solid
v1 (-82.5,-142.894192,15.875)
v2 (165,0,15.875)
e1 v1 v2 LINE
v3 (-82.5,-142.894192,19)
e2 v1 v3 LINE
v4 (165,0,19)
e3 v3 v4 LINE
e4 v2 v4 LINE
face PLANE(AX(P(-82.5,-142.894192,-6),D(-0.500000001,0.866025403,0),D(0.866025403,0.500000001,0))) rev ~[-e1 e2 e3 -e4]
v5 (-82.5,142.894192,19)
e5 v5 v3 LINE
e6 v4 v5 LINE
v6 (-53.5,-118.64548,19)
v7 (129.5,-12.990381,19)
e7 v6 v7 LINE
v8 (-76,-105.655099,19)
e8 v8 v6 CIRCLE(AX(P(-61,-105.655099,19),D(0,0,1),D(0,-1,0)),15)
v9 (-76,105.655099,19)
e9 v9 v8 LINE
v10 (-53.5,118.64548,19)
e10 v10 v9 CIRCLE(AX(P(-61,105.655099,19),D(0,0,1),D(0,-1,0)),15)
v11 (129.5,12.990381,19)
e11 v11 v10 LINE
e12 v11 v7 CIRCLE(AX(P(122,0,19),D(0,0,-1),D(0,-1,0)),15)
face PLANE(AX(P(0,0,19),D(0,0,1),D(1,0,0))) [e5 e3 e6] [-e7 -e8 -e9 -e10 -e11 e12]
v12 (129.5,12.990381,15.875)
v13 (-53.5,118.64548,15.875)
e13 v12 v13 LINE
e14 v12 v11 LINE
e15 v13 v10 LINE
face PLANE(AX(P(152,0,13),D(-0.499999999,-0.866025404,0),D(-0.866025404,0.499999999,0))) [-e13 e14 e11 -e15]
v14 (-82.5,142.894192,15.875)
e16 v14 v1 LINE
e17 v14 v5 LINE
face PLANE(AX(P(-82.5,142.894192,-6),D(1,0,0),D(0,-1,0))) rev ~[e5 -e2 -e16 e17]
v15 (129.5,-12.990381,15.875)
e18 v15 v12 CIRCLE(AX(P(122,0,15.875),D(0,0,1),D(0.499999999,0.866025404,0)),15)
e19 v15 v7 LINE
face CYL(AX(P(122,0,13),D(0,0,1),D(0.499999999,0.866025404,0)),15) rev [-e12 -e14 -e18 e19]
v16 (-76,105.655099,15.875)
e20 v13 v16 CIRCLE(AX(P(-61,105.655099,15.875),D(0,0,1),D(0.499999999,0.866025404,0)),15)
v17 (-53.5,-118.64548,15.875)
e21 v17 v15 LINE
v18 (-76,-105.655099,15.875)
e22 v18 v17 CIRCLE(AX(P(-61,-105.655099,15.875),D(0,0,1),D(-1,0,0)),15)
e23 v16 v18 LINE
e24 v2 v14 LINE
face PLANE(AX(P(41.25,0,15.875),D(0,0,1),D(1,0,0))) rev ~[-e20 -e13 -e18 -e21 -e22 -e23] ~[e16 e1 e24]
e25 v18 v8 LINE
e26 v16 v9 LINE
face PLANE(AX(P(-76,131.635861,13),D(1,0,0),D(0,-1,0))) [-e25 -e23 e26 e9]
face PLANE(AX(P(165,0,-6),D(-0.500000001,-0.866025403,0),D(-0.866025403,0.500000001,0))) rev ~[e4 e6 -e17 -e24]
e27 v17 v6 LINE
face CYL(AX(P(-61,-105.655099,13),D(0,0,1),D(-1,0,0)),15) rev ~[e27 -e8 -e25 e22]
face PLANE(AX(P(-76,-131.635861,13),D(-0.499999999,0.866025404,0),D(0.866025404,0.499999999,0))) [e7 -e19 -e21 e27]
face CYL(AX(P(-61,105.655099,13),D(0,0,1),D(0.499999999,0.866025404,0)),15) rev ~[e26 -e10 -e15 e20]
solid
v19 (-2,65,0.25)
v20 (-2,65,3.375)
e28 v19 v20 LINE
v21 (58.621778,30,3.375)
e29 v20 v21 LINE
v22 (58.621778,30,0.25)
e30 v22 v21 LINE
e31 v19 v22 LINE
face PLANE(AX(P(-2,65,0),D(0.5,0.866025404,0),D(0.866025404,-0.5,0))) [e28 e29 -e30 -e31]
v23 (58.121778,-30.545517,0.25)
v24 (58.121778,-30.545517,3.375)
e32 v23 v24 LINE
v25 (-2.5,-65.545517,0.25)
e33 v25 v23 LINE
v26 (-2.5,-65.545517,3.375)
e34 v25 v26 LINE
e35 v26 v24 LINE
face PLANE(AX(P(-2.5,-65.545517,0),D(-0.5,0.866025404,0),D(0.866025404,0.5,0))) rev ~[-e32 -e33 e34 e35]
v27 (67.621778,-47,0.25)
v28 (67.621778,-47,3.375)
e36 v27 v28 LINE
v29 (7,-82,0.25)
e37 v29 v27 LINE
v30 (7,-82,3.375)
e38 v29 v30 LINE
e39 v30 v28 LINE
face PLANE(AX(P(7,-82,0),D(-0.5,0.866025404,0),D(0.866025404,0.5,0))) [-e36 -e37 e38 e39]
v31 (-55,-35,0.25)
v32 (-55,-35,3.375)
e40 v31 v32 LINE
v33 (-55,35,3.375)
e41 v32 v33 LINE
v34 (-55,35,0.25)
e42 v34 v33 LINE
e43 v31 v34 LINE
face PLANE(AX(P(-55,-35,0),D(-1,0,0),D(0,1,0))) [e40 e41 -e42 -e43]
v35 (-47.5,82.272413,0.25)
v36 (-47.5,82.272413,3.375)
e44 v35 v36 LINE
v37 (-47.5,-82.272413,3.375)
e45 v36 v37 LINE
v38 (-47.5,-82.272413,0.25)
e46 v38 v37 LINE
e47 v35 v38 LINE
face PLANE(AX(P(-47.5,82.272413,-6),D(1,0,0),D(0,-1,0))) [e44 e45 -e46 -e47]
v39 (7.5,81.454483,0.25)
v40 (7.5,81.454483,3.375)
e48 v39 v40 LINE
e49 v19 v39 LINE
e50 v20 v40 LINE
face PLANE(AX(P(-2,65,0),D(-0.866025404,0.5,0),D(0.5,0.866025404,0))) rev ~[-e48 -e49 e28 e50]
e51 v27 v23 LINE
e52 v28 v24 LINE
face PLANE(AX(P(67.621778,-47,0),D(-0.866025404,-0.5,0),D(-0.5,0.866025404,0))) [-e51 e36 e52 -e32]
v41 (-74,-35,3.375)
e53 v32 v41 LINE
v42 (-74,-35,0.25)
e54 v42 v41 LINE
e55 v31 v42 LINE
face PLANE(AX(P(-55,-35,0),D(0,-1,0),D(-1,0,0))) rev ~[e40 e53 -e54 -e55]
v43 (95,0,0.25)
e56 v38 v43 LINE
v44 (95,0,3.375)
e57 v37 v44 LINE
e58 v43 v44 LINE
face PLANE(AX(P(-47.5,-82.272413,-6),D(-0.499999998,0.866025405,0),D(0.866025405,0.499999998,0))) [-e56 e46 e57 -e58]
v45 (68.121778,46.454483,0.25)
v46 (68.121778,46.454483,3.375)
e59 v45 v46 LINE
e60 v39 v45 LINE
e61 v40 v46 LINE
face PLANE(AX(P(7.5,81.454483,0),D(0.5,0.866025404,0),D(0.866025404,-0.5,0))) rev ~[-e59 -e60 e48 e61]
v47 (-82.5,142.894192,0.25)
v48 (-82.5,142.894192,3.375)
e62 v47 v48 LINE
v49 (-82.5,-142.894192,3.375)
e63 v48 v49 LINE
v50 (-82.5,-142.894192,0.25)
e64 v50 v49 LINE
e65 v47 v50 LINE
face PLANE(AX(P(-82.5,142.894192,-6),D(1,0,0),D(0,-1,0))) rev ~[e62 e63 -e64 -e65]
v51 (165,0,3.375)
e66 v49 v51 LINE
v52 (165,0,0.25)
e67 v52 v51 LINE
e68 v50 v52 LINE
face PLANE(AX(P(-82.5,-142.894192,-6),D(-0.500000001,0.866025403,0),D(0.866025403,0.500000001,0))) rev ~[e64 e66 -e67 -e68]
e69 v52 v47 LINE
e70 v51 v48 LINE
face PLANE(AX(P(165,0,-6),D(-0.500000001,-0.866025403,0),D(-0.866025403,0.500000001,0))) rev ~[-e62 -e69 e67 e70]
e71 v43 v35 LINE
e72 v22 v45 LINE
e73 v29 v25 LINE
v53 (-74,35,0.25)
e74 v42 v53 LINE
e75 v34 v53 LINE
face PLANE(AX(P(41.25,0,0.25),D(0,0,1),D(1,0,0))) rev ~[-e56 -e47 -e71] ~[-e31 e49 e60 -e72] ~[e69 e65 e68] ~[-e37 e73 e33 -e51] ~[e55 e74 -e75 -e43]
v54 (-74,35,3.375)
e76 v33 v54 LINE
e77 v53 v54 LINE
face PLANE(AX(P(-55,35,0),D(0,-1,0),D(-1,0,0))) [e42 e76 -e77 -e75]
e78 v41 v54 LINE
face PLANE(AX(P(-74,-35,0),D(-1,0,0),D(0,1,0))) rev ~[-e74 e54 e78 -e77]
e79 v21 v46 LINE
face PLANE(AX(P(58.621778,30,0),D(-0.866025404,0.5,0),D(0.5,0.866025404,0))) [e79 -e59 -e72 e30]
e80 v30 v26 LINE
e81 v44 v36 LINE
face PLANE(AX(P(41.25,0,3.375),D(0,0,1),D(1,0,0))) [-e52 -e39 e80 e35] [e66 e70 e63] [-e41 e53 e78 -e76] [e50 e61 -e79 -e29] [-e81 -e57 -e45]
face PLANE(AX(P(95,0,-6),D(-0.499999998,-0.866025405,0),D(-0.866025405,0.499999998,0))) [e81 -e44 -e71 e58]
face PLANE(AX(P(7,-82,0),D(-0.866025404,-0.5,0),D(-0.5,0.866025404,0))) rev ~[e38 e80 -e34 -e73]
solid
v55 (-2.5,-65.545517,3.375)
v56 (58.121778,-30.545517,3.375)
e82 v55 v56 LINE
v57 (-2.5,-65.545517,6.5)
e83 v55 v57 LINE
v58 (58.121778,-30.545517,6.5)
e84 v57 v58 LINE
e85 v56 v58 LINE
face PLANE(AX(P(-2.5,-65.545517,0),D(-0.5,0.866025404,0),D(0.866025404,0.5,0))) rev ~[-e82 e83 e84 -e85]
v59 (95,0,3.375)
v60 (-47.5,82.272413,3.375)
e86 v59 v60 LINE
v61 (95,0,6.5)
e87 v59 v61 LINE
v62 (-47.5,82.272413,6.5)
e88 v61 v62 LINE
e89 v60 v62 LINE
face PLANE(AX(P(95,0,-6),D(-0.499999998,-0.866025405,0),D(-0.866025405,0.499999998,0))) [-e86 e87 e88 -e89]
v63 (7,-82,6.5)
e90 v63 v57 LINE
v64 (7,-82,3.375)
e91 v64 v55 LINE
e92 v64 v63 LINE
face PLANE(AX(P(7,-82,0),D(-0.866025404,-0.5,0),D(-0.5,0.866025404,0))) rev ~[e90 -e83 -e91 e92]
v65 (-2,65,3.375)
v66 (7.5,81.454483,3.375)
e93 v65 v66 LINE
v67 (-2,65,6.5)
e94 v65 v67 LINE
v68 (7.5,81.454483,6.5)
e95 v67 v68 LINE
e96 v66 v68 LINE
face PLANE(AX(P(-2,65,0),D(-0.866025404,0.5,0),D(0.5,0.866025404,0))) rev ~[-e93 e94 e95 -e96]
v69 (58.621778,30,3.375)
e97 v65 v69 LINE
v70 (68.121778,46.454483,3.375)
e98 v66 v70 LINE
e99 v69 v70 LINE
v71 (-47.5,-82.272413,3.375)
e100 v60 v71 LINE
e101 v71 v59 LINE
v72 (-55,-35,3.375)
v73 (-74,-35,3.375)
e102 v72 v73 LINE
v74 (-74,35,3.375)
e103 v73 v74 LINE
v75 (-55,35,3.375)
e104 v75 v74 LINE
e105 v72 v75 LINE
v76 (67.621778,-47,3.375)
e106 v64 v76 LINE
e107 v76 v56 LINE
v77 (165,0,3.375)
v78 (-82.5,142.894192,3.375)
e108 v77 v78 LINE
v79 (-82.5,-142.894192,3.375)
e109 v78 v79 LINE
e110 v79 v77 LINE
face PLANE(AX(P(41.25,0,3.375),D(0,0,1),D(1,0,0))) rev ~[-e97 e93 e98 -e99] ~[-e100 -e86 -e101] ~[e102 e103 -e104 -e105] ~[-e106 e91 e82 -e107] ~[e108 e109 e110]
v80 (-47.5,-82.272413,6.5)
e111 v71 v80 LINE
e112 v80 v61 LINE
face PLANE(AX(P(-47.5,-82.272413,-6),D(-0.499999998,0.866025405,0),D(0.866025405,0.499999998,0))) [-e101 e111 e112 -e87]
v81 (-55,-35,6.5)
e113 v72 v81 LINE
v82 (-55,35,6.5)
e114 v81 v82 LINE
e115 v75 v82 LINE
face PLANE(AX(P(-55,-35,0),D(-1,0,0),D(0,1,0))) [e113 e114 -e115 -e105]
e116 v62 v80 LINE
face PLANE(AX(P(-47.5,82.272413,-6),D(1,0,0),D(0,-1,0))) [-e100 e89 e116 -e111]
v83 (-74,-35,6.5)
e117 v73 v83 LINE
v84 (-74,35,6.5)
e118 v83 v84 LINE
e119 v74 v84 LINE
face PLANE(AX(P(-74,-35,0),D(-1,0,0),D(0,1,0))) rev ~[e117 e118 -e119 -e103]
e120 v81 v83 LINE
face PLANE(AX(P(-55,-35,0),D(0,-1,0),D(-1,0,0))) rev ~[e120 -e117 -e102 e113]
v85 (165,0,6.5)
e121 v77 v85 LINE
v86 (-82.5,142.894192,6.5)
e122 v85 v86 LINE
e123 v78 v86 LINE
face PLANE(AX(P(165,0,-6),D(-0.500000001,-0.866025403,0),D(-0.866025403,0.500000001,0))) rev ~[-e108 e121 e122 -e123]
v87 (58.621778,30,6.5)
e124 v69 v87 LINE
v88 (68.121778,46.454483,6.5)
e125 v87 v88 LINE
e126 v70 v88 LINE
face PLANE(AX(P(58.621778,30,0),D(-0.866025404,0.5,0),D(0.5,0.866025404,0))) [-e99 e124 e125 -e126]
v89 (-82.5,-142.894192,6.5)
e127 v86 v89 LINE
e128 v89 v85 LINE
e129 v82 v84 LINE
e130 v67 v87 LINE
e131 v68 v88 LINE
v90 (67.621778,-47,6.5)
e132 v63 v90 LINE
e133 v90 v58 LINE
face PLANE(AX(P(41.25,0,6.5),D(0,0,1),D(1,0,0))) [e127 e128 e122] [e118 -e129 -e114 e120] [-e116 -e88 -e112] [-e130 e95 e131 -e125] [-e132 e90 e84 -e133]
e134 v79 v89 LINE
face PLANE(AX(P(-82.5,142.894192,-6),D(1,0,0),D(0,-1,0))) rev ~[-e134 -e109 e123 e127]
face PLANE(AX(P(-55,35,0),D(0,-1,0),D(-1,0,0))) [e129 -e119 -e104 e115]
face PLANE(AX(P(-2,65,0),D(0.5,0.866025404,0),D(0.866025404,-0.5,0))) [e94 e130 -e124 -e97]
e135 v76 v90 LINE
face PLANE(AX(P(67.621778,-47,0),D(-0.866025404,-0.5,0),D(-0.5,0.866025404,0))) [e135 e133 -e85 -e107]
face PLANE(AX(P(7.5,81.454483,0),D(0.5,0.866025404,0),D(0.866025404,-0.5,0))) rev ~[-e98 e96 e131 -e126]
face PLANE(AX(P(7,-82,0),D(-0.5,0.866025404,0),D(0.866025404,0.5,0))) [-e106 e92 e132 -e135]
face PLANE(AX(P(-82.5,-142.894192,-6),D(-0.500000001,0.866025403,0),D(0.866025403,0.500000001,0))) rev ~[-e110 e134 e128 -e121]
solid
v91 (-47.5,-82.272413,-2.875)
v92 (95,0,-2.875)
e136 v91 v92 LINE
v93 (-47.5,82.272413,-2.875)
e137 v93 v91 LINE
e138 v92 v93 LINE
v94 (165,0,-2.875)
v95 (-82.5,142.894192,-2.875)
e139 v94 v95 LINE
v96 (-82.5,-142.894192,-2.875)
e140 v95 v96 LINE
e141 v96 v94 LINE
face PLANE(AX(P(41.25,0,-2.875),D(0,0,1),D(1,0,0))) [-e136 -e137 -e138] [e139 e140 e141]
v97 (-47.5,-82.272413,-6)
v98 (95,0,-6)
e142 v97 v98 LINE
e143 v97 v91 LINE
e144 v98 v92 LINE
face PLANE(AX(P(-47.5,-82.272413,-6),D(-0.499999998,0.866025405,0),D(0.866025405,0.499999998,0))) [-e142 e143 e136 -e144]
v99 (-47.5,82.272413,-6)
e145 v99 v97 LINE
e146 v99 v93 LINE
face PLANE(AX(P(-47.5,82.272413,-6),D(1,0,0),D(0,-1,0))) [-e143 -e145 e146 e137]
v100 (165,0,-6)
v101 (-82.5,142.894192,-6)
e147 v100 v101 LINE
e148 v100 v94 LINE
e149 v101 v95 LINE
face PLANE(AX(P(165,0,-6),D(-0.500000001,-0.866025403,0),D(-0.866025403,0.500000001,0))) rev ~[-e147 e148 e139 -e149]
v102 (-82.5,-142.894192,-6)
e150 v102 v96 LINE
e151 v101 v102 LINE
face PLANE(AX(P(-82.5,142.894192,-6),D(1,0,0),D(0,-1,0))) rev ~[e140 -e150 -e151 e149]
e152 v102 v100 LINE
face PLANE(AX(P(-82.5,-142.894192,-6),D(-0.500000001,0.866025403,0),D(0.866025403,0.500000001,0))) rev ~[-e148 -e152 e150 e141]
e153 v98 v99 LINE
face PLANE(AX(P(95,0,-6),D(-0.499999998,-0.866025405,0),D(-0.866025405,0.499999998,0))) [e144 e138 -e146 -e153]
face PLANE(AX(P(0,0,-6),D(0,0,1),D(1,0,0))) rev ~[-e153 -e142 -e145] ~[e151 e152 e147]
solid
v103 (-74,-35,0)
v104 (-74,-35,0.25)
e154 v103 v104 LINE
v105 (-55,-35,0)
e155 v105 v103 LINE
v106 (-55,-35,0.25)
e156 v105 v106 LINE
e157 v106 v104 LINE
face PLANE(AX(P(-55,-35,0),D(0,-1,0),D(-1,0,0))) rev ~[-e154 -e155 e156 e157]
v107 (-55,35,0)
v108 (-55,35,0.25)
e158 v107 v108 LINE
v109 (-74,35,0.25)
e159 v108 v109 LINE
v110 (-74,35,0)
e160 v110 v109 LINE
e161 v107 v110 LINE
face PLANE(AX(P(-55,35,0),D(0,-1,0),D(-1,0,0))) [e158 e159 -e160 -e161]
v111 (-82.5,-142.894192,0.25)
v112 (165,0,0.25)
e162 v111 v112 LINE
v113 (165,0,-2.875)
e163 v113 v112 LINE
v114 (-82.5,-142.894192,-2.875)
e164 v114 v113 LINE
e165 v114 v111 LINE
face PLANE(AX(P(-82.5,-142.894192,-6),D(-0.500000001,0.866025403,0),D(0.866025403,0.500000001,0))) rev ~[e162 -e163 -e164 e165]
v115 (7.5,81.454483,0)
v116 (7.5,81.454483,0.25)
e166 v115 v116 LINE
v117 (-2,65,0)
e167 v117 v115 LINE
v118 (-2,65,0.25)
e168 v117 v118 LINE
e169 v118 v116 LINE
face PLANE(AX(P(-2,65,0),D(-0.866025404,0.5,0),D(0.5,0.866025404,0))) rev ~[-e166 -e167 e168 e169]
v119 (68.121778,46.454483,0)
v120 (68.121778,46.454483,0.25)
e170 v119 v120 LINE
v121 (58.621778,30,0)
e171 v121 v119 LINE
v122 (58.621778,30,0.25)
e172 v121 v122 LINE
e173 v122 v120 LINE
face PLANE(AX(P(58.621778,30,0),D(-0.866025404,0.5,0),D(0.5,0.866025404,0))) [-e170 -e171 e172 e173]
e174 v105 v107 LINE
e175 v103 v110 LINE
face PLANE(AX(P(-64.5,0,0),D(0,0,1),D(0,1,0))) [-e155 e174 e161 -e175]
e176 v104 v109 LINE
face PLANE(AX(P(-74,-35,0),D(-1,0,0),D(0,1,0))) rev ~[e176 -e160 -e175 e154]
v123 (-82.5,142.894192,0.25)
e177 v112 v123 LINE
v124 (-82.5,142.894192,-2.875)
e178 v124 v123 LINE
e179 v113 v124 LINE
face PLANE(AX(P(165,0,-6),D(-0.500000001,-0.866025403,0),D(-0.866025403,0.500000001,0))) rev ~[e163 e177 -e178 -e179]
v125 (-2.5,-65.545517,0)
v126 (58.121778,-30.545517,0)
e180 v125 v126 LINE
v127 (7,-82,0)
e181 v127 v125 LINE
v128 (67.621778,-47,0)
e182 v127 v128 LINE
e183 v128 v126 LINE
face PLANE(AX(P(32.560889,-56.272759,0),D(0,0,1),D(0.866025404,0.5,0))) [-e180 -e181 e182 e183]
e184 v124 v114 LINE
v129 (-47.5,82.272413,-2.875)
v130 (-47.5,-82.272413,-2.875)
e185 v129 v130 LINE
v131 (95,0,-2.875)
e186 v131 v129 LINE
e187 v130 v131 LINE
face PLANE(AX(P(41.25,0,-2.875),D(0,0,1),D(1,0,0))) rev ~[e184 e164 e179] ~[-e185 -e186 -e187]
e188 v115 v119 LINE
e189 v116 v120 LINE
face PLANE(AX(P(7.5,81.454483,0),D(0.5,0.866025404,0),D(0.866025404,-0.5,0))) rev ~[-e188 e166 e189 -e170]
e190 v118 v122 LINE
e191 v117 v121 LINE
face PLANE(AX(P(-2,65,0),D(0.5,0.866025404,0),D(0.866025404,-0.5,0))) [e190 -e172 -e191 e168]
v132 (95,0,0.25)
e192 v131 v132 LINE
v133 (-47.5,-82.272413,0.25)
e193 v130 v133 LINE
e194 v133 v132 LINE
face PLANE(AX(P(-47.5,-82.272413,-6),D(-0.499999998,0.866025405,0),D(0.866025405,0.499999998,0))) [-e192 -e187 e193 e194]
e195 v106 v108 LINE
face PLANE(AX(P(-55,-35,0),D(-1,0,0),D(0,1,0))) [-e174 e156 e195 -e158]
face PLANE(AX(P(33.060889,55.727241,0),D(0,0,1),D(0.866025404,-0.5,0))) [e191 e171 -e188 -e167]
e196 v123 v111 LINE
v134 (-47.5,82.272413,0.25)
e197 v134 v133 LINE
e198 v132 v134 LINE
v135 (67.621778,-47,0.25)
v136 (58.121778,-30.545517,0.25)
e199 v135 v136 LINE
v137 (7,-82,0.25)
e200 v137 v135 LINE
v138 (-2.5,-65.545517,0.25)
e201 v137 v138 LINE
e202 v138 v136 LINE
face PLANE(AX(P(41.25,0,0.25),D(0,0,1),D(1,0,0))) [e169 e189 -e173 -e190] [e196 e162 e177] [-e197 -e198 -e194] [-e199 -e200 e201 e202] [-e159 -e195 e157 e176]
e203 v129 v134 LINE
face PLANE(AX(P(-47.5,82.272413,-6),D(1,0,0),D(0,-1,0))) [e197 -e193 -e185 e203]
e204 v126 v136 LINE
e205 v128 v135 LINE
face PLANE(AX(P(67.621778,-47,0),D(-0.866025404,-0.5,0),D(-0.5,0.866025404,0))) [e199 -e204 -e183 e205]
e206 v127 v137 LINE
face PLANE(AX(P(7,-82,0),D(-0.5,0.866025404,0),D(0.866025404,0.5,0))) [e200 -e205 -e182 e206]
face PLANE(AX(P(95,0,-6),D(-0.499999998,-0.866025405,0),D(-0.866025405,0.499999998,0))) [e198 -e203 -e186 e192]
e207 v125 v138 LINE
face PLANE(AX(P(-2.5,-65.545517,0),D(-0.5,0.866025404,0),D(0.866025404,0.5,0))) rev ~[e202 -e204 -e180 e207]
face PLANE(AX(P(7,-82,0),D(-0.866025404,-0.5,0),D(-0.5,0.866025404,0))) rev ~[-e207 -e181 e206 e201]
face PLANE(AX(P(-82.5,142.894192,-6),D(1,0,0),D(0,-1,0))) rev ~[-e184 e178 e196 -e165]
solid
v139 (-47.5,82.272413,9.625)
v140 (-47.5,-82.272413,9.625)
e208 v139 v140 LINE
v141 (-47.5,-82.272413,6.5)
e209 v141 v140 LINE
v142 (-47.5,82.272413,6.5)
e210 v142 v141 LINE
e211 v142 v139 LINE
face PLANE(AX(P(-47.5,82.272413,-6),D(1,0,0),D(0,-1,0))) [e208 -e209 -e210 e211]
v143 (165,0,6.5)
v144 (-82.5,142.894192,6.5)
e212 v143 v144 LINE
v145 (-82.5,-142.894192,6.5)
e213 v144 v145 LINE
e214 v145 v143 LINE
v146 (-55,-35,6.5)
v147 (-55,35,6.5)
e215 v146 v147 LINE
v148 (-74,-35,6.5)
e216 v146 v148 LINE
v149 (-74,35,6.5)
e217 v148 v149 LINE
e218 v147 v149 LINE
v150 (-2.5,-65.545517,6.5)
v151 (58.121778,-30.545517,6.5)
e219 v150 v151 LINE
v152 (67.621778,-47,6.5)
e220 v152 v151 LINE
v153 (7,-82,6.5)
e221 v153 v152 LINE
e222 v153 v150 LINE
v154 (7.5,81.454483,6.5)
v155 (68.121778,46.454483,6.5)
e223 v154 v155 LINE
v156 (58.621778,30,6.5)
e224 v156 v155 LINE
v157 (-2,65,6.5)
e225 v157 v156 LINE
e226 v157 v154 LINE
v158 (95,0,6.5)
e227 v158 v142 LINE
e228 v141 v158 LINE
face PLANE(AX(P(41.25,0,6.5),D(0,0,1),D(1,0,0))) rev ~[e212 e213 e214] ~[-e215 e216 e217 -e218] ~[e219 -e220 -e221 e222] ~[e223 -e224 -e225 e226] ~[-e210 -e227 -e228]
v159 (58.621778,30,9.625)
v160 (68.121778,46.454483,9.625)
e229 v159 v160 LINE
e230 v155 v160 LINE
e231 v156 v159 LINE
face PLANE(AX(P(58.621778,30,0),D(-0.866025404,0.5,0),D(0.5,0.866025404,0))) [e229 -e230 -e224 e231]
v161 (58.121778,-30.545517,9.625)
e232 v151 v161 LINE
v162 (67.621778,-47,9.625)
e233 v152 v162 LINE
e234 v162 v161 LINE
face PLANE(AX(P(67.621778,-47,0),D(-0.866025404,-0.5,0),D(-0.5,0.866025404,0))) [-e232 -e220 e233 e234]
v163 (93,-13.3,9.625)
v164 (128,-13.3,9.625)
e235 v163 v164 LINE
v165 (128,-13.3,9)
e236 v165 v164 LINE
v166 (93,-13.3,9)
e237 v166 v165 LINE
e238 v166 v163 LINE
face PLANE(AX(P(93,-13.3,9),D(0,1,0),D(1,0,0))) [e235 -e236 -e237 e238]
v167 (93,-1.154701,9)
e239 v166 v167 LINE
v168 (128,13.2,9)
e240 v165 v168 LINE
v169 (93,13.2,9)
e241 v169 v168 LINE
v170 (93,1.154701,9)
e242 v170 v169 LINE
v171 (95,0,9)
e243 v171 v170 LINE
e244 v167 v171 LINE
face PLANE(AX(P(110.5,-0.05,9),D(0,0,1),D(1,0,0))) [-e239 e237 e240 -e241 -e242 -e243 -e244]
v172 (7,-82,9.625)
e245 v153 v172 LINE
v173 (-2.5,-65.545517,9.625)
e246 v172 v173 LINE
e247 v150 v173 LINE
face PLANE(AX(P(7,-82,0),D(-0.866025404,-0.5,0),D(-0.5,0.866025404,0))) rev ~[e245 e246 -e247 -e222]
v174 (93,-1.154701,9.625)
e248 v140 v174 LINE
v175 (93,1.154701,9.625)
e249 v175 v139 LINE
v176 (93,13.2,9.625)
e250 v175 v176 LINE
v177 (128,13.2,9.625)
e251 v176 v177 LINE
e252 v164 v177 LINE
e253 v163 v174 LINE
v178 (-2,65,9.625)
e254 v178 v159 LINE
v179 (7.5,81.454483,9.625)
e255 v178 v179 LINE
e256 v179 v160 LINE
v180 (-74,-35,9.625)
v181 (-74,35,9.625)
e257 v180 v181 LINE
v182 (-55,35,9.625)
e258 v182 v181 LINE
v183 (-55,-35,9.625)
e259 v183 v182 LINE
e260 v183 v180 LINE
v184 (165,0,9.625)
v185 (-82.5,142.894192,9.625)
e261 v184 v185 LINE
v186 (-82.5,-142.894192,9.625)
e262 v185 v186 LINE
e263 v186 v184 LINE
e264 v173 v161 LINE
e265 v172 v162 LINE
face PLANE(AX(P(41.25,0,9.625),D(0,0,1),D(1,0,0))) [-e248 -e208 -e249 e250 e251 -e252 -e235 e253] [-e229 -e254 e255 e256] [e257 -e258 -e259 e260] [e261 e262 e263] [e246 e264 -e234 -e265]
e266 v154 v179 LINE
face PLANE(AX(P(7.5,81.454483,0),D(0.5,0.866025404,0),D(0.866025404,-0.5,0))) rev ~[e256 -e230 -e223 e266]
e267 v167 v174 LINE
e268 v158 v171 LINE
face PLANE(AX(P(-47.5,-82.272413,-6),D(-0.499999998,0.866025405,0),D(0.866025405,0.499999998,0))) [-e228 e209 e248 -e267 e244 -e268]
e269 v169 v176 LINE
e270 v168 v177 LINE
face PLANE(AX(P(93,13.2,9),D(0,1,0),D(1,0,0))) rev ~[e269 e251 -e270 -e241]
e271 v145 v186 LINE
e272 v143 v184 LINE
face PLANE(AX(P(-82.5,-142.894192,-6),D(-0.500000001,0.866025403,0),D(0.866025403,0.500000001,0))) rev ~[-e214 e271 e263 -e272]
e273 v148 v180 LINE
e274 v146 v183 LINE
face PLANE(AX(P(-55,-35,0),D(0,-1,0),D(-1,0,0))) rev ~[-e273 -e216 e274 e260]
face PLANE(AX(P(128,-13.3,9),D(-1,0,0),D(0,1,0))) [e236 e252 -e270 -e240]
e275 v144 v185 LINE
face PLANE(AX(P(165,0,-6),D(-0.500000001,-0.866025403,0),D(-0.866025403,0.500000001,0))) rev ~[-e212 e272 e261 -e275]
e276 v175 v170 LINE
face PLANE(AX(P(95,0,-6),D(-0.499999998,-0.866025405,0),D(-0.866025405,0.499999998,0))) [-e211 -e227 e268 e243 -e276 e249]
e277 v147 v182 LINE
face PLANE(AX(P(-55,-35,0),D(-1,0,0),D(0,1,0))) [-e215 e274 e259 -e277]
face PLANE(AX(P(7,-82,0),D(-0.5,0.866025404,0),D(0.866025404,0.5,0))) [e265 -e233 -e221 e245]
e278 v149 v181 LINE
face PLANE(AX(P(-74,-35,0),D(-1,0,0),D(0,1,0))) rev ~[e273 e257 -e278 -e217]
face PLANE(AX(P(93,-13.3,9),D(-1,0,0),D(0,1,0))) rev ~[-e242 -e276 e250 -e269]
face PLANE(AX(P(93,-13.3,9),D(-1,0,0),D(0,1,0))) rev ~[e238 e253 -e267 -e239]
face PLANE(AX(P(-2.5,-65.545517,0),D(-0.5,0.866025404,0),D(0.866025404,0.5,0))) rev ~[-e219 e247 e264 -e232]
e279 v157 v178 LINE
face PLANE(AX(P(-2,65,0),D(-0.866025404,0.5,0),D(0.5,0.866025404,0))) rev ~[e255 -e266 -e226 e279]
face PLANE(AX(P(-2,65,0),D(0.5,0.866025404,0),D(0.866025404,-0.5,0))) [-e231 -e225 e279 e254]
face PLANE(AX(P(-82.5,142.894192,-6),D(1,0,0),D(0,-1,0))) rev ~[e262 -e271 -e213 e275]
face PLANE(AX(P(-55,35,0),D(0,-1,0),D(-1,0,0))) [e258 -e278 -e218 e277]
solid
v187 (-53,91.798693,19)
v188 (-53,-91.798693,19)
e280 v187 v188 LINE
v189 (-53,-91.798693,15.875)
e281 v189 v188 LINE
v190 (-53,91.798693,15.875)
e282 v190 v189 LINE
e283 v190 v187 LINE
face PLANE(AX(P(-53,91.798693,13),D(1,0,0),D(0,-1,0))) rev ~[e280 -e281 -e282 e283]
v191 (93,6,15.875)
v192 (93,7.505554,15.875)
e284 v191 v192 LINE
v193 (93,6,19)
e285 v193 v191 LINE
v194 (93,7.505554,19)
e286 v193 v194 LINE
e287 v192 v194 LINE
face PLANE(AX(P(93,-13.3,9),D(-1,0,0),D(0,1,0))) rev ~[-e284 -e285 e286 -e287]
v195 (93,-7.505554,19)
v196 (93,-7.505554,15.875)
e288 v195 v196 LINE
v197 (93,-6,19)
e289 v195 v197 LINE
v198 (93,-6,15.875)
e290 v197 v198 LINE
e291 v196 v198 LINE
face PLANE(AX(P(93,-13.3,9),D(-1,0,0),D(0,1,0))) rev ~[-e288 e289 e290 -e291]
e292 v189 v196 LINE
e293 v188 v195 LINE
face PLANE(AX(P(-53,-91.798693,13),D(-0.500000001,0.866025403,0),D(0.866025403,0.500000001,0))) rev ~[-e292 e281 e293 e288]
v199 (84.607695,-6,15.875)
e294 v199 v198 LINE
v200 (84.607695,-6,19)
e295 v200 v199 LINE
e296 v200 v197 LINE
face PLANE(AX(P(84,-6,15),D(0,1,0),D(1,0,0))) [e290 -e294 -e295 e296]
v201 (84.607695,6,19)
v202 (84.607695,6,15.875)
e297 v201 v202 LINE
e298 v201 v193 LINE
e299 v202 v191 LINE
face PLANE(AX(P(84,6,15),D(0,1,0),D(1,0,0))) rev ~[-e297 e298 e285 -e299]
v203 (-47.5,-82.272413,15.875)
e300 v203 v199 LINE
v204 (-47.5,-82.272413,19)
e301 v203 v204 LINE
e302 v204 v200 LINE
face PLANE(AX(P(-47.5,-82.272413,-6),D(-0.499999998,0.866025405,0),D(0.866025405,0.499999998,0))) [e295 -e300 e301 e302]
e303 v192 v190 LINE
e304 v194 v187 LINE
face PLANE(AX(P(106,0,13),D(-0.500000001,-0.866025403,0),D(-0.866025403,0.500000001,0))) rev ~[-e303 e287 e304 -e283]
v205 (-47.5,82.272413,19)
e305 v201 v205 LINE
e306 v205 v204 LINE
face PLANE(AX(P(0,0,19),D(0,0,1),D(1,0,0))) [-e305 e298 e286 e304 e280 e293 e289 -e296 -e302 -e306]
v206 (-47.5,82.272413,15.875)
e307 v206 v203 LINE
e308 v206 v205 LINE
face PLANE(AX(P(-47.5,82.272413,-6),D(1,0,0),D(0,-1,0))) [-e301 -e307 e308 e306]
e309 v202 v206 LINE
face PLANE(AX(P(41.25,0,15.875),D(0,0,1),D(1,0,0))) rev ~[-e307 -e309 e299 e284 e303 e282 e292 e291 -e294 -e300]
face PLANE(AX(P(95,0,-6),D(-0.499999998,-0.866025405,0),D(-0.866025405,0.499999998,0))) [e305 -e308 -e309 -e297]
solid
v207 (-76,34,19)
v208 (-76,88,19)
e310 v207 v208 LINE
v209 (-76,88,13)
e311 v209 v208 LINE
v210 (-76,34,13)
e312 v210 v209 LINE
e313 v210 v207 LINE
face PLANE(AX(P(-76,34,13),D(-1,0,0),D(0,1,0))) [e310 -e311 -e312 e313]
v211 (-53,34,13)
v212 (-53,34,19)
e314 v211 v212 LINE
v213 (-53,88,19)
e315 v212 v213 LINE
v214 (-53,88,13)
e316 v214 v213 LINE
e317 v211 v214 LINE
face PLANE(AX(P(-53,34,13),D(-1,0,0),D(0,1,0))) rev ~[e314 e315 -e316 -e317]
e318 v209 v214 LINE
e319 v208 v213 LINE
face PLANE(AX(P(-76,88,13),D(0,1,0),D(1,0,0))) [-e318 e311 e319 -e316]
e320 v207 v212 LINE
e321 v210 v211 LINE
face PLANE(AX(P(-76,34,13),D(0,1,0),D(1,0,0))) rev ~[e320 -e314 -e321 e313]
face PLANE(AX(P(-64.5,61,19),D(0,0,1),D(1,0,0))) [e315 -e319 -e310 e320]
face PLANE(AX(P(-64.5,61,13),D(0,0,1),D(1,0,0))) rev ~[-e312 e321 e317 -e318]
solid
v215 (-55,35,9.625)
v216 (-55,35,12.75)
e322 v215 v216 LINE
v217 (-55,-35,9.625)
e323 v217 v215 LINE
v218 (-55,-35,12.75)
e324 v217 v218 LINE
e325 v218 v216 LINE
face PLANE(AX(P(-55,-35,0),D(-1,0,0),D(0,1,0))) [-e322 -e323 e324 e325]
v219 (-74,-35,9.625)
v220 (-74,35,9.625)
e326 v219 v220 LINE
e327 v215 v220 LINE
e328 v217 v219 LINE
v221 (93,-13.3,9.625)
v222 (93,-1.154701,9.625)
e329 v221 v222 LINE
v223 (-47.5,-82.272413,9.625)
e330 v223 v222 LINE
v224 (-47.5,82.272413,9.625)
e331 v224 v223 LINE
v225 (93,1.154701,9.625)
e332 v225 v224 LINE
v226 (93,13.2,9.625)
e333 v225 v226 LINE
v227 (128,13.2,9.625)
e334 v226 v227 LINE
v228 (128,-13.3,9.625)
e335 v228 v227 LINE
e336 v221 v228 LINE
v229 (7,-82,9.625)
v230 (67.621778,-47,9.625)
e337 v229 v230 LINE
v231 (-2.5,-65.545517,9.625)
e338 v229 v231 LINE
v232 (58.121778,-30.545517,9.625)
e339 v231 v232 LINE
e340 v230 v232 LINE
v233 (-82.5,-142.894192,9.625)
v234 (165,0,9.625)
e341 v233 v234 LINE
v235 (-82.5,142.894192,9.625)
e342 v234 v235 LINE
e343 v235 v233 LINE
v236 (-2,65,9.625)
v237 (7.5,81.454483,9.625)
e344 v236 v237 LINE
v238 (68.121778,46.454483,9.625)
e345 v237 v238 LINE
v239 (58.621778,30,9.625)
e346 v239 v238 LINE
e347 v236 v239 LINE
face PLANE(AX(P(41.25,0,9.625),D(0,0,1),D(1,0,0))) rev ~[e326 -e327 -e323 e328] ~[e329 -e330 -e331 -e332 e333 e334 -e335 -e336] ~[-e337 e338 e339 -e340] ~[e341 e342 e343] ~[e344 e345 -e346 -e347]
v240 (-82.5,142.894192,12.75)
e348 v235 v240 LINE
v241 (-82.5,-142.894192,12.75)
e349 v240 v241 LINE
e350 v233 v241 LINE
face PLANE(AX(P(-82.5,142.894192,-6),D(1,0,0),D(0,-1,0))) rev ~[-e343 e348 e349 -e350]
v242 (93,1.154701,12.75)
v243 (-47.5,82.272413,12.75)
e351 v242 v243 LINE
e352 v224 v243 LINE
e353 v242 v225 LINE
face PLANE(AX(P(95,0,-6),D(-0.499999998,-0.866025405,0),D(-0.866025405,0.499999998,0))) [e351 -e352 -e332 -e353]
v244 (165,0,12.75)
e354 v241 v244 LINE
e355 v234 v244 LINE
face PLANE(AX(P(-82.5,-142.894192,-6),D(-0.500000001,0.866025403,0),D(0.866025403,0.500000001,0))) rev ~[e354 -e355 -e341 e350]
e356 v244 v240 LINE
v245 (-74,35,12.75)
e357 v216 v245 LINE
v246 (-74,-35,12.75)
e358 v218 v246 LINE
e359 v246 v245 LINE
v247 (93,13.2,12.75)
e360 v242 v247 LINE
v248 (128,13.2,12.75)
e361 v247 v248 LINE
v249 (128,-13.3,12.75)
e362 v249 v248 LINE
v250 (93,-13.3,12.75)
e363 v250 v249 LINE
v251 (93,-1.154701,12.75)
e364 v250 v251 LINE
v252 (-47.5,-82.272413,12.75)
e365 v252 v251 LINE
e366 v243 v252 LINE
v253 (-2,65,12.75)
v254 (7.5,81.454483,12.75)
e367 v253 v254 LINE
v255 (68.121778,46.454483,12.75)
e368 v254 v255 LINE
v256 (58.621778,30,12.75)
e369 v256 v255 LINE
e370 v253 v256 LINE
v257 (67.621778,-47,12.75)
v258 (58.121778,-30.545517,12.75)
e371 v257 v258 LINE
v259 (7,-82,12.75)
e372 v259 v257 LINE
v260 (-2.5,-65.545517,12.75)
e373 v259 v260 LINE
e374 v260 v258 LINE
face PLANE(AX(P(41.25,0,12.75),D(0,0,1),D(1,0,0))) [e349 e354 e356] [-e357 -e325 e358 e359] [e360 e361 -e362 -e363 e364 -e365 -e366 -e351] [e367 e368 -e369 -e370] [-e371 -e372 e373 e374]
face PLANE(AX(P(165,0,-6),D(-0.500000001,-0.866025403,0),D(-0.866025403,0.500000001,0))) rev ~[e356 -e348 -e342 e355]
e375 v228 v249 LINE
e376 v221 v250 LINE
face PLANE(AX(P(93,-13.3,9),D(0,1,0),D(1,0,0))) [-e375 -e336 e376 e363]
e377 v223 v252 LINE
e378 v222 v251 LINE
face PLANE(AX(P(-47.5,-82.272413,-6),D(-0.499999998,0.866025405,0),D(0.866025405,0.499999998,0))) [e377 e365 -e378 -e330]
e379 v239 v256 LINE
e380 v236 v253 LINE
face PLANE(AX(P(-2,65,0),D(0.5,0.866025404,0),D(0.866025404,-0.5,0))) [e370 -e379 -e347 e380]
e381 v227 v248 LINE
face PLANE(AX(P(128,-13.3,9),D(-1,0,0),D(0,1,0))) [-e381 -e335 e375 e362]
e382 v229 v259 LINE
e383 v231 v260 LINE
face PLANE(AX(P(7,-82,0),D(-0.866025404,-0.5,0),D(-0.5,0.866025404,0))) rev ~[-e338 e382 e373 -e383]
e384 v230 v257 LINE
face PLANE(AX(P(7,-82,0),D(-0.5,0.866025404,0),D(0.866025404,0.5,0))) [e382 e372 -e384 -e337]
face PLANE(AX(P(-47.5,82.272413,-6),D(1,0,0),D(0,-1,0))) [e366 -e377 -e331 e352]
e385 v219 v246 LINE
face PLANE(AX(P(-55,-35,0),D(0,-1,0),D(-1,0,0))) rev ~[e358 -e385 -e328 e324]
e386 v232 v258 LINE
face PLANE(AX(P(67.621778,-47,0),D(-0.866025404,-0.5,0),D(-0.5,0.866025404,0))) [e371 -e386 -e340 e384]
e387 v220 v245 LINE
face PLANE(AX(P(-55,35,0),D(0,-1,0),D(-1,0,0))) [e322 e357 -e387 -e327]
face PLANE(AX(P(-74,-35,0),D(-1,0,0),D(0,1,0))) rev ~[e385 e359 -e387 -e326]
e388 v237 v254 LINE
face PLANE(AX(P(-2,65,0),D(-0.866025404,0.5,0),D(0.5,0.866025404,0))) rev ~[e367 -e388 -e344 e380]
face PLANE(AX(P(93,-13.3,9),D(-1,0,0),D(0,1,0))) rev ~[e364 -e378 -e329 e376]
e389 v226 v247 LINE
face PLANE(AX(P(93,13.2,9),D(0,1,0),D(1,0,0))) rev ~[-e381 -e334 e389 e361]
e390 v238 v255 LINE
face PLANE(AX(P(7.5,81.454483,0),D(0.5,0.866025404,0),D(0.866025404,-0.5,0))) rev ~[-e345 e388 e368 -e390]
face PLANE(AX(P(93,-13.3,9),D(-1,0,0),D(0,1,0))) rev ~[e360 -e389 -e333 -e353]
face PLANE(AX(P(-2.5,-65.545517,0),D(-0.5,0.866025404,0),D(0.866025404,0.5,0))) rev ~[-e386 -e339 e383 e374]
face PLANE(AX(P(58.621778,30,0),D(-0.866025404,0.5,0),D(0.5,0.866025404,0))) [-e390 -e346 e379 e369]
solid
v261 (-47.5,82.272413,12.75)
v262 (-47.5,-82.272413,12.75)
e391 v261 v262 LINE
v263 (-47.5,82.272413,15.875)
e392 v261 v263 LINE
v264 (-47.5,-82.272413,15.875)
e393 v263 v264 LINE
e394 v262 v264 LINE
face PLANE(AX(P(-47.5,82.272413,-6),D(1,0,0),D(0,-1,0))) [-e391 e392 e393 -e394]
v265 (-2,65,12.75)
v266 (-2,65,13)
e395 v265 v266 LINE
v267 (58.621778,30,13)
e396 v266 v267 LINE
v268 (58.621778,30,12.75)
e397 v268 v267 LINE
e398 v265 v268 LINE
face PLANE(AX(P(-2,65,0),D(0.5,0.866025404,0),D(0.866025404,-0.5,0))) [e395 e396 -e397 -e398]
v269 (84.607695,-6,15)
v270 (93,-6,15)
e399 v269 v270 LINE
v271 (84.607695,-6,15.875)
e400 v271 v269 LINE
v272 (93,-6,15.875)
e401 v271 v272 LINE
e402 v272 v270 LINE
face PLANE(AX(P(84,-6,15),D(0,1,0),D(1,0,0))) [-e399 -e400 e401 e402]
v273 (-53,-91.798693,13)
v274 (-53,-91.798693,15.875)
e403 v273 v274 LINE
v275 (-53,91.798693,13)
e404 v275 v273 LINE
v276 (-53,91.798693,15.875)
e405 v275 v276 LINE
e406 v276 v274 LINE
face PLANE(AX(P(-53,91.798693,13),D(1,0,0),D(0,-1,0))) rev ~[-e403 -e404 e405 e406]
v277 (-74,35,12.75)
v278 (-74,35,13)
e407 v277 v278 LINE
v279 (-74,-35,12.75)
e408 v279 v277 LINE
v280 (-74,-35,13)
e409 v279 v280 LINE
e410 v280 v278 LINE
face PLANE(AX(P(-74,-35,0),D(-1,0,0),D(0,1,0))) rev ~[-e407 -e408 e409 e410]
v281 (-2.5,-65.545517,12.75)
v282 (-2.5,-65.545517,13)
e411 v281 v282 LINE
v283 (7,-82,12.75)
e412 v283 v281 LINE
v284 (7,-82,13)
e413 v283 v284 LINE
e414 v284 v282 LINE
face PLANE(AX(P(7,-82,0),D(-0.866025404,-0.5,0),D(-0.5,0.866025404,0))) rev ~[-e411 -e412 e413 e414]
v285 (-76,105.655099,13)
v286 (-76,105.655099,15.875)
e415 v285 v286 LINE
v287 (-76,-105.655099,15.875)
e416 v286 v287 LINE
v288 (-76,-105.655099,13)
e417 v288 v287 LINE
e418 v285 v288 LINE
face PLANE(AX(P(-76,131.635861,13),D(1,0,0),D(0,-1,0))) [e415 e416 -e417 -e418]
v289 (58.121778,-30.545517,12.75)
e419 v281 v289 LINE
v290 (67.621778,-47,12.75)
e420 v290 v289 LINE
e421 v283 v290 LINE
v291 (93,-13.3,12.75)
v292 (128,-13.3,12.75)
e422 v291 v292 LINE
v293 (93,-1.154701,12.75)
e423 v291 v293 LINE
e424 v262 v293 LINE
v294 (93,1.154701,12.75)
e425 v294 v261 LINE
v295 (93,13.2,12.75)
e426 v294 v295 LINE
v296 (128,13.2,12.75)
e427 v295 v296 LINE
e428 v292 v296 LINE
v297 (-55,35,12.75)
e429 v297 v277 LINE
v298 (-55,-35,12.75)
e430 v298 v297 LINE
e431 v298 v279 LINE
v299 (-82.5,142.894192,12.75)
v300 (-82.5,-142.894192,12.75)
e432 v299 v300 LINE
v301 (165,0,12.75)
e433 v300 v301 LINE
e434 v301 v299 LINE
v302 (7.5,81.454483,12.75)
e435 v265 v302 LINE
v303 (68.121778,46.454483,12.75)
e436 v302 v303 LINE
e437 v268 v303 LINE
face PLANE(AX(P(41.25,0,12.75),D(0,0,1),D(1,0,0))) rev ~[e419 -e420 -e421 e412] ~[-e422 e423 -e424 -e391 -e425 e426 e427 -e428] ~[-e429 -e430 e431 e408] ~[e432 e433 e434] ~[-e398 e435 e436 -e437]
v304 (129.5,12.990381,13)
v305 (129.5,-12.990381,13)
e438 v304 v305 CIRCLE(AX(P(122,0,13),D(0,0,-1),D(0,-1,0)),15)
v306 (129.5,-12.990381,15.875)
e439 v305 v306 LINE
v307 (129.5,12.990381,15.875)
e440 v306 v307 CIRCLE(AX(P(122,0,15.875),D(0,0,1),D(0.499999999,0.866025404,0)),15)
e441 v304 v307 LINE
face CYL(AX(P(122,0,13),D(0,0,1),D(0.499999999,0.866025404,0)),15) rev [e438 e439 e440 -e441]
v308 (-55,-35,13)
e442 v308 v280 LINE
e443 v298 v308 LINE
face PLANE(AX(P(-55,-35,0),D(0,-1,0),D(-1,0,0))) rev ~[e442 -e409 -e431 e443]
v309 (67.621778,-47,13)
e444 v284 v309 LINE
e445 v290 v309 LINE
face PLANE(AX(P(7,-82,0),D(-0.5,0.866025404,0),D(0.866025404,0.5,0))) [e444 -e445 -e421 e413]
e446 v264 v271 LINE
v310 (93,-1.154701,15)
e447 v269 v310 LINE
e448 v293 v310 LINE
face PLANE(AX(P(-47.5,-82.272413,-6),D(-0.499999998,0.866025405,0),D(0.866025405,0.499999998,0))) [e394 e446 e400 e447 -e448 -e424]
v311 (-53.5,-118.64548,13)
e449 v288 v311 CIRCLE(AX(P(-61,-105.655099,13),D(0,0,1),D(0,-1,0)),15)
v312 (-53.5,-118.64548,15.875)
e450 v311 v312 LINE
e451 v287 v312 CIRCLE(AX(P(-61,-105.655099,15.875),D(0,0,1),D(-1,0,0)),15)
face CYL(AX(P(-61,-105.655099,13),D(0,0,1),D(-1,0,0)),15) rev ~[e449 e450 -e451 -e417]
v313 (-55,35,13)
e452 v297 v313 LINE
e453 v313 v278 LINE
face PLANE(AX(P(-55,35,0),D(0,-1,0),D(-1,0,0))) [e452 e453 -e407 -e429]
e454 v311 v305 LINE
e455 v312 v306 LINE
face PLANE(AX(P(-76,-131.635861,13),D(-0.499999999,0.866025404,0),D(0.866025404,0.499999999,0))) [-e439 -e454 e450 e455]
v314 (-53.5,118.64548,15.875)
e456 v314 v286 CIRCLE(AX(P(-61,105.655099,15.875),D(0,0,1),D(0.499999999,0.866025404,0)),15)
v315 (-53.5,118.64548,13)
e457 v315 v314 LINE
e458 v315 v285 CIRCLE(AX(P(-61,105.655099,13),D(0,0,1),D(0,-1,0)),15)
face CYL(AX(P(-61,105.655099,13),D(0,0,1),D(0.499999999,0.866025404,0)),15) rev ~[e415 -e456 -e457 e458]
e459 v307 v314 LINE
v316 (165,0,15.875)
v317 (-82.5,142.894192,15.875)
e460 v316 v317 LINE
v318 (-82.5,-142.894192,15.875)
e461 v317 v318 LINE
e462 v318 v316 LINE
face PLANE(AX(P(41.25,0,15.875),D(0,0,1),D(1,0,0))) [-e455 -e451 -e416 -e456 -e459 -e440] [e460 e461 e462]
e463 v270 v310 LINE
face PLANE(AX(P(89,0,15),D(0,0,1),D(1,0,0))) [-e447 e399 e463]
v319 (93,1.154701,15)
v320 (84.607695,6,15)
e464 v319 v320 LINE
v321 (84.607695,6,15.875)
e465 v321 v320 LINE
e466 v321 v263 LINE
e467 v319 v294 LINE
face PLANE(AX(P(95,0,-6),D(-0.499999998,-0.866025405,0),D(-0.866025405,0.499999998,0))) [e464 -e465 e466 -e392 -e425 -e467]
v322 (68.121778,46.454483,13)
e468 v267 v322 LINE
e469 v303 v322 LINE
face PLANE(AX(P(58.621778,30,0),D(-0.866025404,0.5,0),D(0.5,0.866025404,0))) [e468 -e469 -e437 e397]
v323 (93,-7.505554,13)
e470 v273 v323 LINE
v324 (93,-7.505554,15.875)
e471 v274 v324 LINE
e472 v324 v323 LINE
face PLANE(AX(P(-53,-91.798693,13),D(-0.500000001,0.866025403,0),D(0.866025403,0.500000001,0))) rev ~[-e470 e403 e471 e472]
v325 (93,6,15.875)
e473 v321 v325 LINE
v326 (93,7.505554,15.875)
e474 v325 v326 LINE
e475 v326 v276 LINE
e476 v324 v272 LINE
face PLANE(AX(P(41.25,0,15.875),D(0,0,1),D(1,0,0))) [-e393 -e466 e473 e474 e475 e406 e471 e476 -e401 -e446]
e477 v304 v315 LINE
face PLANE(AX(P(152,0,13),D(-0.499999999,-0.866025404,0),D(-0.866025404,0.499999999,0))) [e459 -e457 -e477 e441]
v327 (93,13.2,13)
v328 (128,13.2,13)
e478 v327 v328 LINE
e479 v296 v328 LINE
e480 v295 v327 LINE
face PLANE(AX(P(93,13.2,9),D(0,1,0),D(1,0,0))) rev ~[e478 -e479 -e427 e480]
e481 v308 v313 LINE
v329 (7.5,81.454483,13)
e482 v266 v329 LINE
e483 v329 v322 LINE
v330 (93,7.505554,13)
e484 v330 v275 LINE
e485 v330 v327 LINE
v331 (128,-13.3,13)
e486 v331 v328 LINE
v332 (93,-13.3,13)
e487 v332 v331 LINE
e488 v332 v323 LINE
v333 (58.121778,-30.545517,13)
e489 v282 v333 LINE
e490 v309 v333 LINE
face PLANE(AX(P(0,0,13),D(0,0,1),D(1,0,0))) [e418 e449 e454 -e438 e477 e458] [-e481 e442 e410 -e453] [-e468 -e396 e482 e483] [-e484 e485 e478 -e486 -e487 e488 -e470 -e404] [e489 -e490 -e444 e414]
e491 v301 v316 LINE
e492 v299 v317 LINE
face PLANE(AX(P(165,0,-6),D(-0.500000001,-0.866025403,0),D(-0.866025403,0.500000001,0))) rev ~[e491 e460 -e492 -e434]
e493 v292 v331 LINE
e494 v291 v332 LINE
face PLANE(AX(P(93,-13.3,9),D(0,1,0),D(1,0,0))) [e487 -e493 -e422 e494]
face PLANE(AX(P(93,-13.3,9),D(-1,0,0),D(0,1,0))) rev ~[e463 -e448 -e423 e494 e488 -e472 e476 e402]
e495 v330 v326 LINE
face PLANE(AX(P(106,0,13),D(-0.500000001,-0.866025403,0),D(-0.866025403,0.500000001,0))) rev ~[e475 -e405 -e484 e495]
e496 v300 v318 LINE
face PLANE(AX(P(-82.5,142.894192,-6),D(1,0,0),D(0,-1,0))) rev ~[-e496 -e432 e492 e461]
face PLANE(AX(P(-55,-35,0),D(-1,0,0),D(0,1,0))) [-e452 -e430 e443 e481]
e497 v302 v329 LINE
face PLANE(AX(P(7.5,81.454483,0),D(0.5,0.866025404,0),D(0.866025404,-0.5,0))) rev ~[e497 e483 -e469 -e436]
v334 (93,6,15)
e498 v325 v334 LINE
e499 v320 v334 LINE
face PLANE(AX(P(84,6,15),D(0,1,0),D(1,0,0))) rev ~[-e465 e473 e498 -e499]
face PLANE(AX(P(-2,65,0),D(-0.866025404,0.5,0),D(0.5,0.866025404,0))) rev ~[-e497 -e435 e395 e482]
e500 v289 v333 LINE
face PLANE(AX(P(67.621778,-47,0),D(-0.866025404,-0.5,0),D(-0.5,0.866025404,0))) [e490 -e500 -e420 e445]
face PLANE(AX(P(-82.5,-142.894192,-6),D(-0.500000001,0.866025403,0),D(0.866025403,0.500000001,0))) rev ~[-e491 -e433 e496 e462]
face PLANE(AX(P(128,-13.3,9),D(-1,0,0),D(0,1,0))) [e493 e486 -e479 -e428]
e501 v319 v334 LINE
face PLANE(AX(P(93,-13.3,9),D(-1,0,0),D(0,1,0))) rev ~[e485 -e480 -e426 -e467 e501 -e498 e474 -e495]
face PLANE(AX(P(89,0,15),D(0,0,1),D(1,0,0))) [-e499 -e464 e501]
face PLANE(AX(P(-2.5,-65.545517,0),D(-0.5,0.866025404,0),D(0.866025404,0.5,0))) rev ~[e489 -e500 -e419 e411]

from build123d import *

# Parameters (mm, degrees)
BOX005_W                = 23
BOX005_H                = 54
BOX005_DEPTH            = 6
BOX_BOTTOM_HALF_3_W     = 249.5
BOX_BOTTOM_HALF_3_H     = 287.788383
BOX_BOTTOM_HALF_3_DEPTH = 4.125
BOX_BOTTOM_HALF_1_W     = 249.5
BOX_BOTTOM_HALF_1_H     = 287.788383
BOX_BOTTOM_HALF_1_DEPTH = 7.25
BOX_BOTTOM_HALF_0_W     = 249.5
BOX_BOTTOM_HALF_0_H     = 287.788383
BOX_BOTTOM_HALF_0_DEPTH = 13.5
PRISM003_DEPTH          = 6
PRISM002_DEPTH          = 6
BOX004_W                = 10
BOX004_H                = 12
BOX004_DEPTH            = 4
BOX003_W                = 35
BOX003_H                = 26.5
BOX003_DEPTH            = 10
BOX002_W                = 70
BOX002_H                = 19
BOX002_DEPTH            = 19
BOX002_PLACEMENT_ANGLE  = 30
BOX001_W                = 70
BOX001_H                = 19
BOX001_DEPTH            = 19
BOX001_PLACEMENT_ANGLE  = 90
BOX_W                   = 70
BOX_H                   = 19
BOX_DEPTH               = 19
BOX_PLACEMENT_ANGLE     = 30
PRISM001_DEPTH          = 25
PRISM_DEPTH             = 25
FILLET_R                = 15
BOX_BOTTOM_HALF_4_W     = 249.5
BOX_BOTTOM_HALF_4_H     = 287.788383
BOX_BOTTOM_HALF_4_DEPTH = 4.125
BOX_BOTTOM_HALF_5_W     = 249.5
BOX_BOTTOM_HALF_5_H     = 287.788383
BOX_BOTTOM_HALF_5_DEPTH = 4.125
BOX_BOTTOM_HALF_2_W     = 249.5
BOX_BOTTOM_HALF_2_H     = 287.788383
BOX_BOTTOM_HALF_2_DEPTH = 7.25
BOX_BOTTOM_HALF_6_W     = 249.5
BOX_BOTTOM_HALF_6_H     = 287.788383
BOX_BOTTOM_HALF_6_DEPTH = 4.125


with BuildPart() as box005:
    # Box005 → Box005 (new body)
    with BuildSketch(Plane(origin=(-76, 34, 13), x_dir=(1, 0, 0), z_dir=(0, 0, 1))):
        with Locations((11.5, 27)):
            Rectangle(BOX005_W, BOX005_H)
    extrude(amount=BOX005_DEPTH)


with BuildPart() as box_bottom_half_3_body:
    # box_bottom_half_3 → box_bottom_half_3 (new body)
    with BuildSketch(Plane(origin=(-83.5, -143.894192, -7), x_dir=(1, 0, 0), z_dir=(0, 0, 1))):
        with Locations((124.75, 143.894192)):
            Rectangle(BOX_BOTTOM_HALF_3_W, BOX_BOTTOM_HALF_3_H)
    extrude(amount=BOX_BOTTOM_HALF_3_DEPTH)


with BuildPart() as box_bottom_half_1_body:
    # box_bottom_half_1 → box_bottom_half_1 (new body)
    with BuildSketch(Plane(origin=(-83.5, -143.894192, -7), x_dir=(1, 0, 0), z_dir=(0, 0, 1))):
        with Locations((124.75, 143.894192)):
            Rectangle(BOX_BOTTOM_HALF_1_W, BOX_BOTTOM_HALF_1_H)
    extrude(amount=BOX_BOTTOM_HALF_1_DEPTH)


with BuildPart() as box_bottom_half_0_body:
    # box_bottom_half_0 → box_bottom_half_0 (new body)
    with BuildSketch(Plane(origin=(-83.5, -143.894192, -7), x_dir=(1, 0, 0), z_dir=(0, 0, 1))):
        with Locations((124.75, 143.894192)):
            Rectangle(BOX_BOTTOM_HALF_0_W, BOX_BOTTOM_HALF_0_H)
    extrude(amount=BOX_BOTTOM_HALF_0_DEPTH)


with BuildPart() as prism003:
    # Prism003 → Prism003 (new body)
    with BuildSketch(Plane.XY.offset(13)):
        Polygon((106, 0), (-53, 91.798693), (-53, -91.798693), align=None)
    extrude(amount=PRISM003_DEPTH)


with BuildPart() as cut006:
    # Prism002 → Prism002 (new body)
    with BuildSketch(Plane.XY.offset(13)):
        Polygon((152, 0), (-76, 131.635861), (-76, -131.635861), align=None)
    extrude(amount=PRISM002_DEPTH)

    # Cut006: cut Prism003
    add(prism003.part, mode=Mode.SUBTRACT)


with BuildPart() as box004:
    # Box004 → Box004 (new body)
    with BuildSketch(Plane(origin=(84, -6, 15), x_dir=(1, 0, 0), z_dir=(0, 0, 1))):
        with Locations((5, 6)):
            Rectangle(BOX004_W, BOX004_H)
    extrude(amount=BOX004_DEPTH)


with BuildPart() as box003:
    # Box003 → Box003 (new body)
    with BuildSketch(Plane(origin=(93, -13.3, 9), x_dir=(1, 0, 0), z_dir=(0, 0, 1))):
        with Locations((17.5, 13.25)):
            Rectangle(BOX003_W, BOX003_H)
    extrude(amount=BOX003_DEPTH)


with BuildPart() as box002:
    # Box002 → Box002 (new body)
    with BuildSketch(Plane.XY):
        with Locations((35, 9.5)):
            Rectangle(BOX002_W, BOX002_H)
    extrude(amount=BOX002_DEPTH)


with BuildPart() as box002_1:
    # Box002 placement: moved
    add(box002.part.moved(Location((7, -82, 0))).rotate(Axis((7, -82, 0), (0, 0, 1)), BOX002_PLACEMENT_ANGLE))


with BuildPart() as box001:
    # Box001 → Box001 (new body)
    with BuildSketch(Plane.XY):
        with Locations((35, 9.5)):
            Rectangle(BOX001_W, BOX001_H)
    extrude(amount=BOX001_DEPTH)


with BuildPart() as box001_1:
    # Box001 placement: moved
    add(box001.part.moved(Location((-55, -35, 0))).rotate(Axis((-55, -35, 0), (0, 0, 1)), BOX001_PLACEMENT_ANGLE))


with BuildPart() as box:
    # Box → Box (new body)
    with BuildSketch(Plane.XY):
        with Locations((35, 9.5)):
            Rectangle(BOX_W, BOX_H)
    extrude(amount=BOX_DEPTH)


with BuildPart() as box_1:
    # Box placement: moved
    add(box.part.moved(Location((-2, 65, 0))).rotate(Axis((-2, 65, 0), (0, 0, -1)), BOX_PLACEMENT_ANGLE))


with BuildPart() as prism001:
    # Prism001 → Prism001 (new body)
    with BuildSketch(Plane.XY.offset(-6)):
        Polygon((95, 0), (-47.5, 82.272413), (-47.5, -82.272413), align=None)
    extrude(amount=PRISM001_DEPTH)


with BuildPart() as fillet_body:
    # Prism → Prism (new body)
    with BuildSketch(Plane.XY.offset(-6)):
        Polygon((165, 0), (-82.5, 142.894192), (-82.5, -142.894192), align=None)
    extrude(amount=PRISM_DEPTH)

    # Cut: cut Prism001
    add(prism001.part, mode=Mode.SUBTRACT)

    # Cut001: cut Box
    add(box_1.part, mode=Mode.SUBTRACT)

    # Cut002: cut Box001
    add(box001_1.part, mode=Mode.SUBTRACT)

    # Cut003: cut Box002
    add(box002_1.part, mode=Mode.SUBTRACT)

    # Cut004: cut Box003
    add(box003.part, mode=Mode.SUBTRACT)

    # Cut005: cut Box004
    add(box004.part, mode=Mode.SUBTRACT)

    # Cut007: cut Cut006
    add(cut006.part, mode=Mode.SUBTRACT)

    # Fillet
    fillet_edges = [fillet_body.edges().sort_by_distance(p)[0] for p in [
        (152, 0, 16),
        (-76, 131.635861, 16),
        (-76, -131.635861, 16),
    ]]
    fillet(fillet_edges, radius=FILLET_R)


with BuildPart() as bottom_half_0_body:
    # bottom_half_0 base: copy of Fillet body
    add(fillet_body.part)

    # bottom_half_0: intersect box_bottom_half_0 body
    add(box_bottom_half_0_body.part, mode=Mode.INTERSECT)


with BuildPart() as bottom_half_1_body:
    # bottom_half_1 base: copy of bottom_half_0 body
    add(bottom_half_0_body.part)

    # bottom_half_1: intersect box_bottom_half_1 body
    add(box_bottom_half_1_body.part, mode=Mode.INTERSECT)


with BuildPart() as bottom_half_3_body:
    # bottom_half_3 base: copy of bottom_half_1 body
    add(bottom_half_1_body.part)

    # bottom_half_3: intersect box_bottom_half_3 body
    add(box_bottom_half_3_body.part, mode=Mode.INTERSECT)


with BuildPart() as top_half_3_body:
    # top_half_3 base: copy of bottom_half_1 body
    add(bottom_half_1_body.part)

    # top_half_3: cut box_bottom_half_3 body
    add(box_bottom_half_3_body.part, mode=Mode.SUBTRACT)


with BuildPart() as box_bottom_half_4_body:
    # box_bottom_half_4 → box_bottom_half_4 (new body)
    with BuildSketch(Plane(origin=(-83.5, -143.894192, -0.75), x_dir=(1, 0, 0), z_dir=(0, 0, 1))):
        with Locations((124.75, 143.894192)):
            Rectangle(BOX_BOTTOM_HALF_4_W, BOX_BOTTOM_HALF_4_H)
    extrude(amount=BOX_BOTTOM_HALF_4_DEPTH)


with BuildPart() as top_half_1_body:
    # top_half_1 base: copy of bottom_half_0 body
    add(bottom_half_0_body.part)

    # top_half_1: cut box_bottom_half_1 body
    add(box_bottom_half_1_body.part, mode=Mode.SUBTRACT)


with BuildPart() as bottom_half_4_body:
    # bottom_half_4 base: copy of top_half_1 body
    add(top_half_1_body.part)

    # bottom_half_4: intersect box_bottom_half_4 body
    add(box_bottom_half_4_body.part, mode=Mode.INTERSECT)


with BuildPart() as top_half_4_body:
    # top_half_4 base: copy of top_half_1 body
    add(top_half_1_body.part)

    # top_half_4: cut box_bottom_half_4 body
    add(box_bottom_half_4_body.part, mode=Mode.SUBTRACT)


with BuildPart() as box_bottom_half_5_body:
    # box_bottom_half_5 → box_bottom_half_5 (new body)
    with BuildSketch(Plane(origin=(-83.5, -143.894192, 5.5), x_dir=(1, 0, 0), z_dir=(0, 0, 1))):
        with Locations((124.75, 143.894192)):
            Rectangle(BOX_BOTTOM_HALF_5_W, BOX_BOTTOM_HALF_5_H)
    extrude(amount=BOX_BOTTOM_HALF_5_DEPTH)


with BuildPart() as box_bottom_half_2_body:
    # box_bottom_half_2 → box_bottom_half_2 (new body)
    with BuildSketch(Plane(origin=(-83.5, -143.894192, 5.5), x_dir=(1, 0, 0), z_dir=(0, 0, 1))):
        with Locations((124.75, 143.894192)):
            Rectangle(BOX_BOTTOM_HALF_2_W, BOX_BOTTOM_HALF_2_H)
    extrude(amount=BOX_BOTTOM_HALF_2_DEPTH)


with BuildPart() as top_half_0_body:
    # top_half_0 base: copy of Fillet body
    add(fillet_body.part)

    # top_half_0: cut box_bottom_half_0 body
    add(box_bottom_half_0_body.part, mode=Mode.SUBTRACT)


with BuildPart() as bottom_half_2_body:
    # bottom_half_2 base: copy of top_half_0 body
    add(top_half_0_body.part)

    # bottom_half_2: intersect box_bottom_half_2 body
    add(box_bottom_half_2_body.part, mode=Mode.INTERSECT)


with BuildPart() as bottom_half_5_body:
    # bottom_half_5 base: copy of bottom_half_2 body
    add(bottom_half_2_body.part)

    # bottom_half_5: intersect box_bottom_half_5 body
    add(box_bottom_half_5_body.part, mode=Mode.INTERSECT)


with BuildPart() as top_half_5_body:
    # top_half_5 base: copy of bottom_half_2 body
    add(bottom_half_2_body.part)

    # top_half_5: cut box_bottom_half_5 body
    add(box_bottom_half_5_body.part, mode=Mode.SUBTRACT)


with BuildPart() as box_bottom_half_6_body:
    # box_bottom_half_6 → box_bottom_half_6 (new body)
    with BuildSketch(Plane(origin=(-83.5, -143.894192, 11.75), x_dir=(1, 0, 0), z_dir=(0, 0, 1))):
        with Locations((124.75, 143.894192)):
            Rectangle(BOX_BOTTOM_HALF_6_W, BOX_BOTTOM_HALF_6_H)
    extrude(amount=BOX_BOTTOM_HALF_6_DEPTH)


with BuildPart() as top_half_2_body:
    # top_half_2 base: copy of top_half_0 body
    add(top_half_0_body.part)

    # top_half_2: cut box_bottom_half_2 body
    add(box_bottom_half_2_body.part, mode=Mode.SUBTRACT)


with BuildPart() as bottom_half_6_body:
    # bottom_half_6 base: copy of top_half_2 body
    add(top_half_2_body.part)

    # bottom_half_6: intersect box_bottom_half_6 body
    add(box_bottom_half_6_body.part, mode=Mode.INTERSECT)


with BuildPart() as top_half_6_body:
    # top_half_6 base: copy of top_half_2 body
    add(top_half_2_body.part)

    # top_half_6: cut box_bottom_half_6 body
    add(box_bottom_half_6_body.part, mode=Mode.SUBTRACT)


solid = Compound([box005.part, bottom_half_3_body.part, top_half_3_body.part, bottom_half_4_body.part, top_half_4_body.part, bottom_half_5_body.part, top_half_5_body.part, bottom_half_6_body.part, top_half_6_body.part])
